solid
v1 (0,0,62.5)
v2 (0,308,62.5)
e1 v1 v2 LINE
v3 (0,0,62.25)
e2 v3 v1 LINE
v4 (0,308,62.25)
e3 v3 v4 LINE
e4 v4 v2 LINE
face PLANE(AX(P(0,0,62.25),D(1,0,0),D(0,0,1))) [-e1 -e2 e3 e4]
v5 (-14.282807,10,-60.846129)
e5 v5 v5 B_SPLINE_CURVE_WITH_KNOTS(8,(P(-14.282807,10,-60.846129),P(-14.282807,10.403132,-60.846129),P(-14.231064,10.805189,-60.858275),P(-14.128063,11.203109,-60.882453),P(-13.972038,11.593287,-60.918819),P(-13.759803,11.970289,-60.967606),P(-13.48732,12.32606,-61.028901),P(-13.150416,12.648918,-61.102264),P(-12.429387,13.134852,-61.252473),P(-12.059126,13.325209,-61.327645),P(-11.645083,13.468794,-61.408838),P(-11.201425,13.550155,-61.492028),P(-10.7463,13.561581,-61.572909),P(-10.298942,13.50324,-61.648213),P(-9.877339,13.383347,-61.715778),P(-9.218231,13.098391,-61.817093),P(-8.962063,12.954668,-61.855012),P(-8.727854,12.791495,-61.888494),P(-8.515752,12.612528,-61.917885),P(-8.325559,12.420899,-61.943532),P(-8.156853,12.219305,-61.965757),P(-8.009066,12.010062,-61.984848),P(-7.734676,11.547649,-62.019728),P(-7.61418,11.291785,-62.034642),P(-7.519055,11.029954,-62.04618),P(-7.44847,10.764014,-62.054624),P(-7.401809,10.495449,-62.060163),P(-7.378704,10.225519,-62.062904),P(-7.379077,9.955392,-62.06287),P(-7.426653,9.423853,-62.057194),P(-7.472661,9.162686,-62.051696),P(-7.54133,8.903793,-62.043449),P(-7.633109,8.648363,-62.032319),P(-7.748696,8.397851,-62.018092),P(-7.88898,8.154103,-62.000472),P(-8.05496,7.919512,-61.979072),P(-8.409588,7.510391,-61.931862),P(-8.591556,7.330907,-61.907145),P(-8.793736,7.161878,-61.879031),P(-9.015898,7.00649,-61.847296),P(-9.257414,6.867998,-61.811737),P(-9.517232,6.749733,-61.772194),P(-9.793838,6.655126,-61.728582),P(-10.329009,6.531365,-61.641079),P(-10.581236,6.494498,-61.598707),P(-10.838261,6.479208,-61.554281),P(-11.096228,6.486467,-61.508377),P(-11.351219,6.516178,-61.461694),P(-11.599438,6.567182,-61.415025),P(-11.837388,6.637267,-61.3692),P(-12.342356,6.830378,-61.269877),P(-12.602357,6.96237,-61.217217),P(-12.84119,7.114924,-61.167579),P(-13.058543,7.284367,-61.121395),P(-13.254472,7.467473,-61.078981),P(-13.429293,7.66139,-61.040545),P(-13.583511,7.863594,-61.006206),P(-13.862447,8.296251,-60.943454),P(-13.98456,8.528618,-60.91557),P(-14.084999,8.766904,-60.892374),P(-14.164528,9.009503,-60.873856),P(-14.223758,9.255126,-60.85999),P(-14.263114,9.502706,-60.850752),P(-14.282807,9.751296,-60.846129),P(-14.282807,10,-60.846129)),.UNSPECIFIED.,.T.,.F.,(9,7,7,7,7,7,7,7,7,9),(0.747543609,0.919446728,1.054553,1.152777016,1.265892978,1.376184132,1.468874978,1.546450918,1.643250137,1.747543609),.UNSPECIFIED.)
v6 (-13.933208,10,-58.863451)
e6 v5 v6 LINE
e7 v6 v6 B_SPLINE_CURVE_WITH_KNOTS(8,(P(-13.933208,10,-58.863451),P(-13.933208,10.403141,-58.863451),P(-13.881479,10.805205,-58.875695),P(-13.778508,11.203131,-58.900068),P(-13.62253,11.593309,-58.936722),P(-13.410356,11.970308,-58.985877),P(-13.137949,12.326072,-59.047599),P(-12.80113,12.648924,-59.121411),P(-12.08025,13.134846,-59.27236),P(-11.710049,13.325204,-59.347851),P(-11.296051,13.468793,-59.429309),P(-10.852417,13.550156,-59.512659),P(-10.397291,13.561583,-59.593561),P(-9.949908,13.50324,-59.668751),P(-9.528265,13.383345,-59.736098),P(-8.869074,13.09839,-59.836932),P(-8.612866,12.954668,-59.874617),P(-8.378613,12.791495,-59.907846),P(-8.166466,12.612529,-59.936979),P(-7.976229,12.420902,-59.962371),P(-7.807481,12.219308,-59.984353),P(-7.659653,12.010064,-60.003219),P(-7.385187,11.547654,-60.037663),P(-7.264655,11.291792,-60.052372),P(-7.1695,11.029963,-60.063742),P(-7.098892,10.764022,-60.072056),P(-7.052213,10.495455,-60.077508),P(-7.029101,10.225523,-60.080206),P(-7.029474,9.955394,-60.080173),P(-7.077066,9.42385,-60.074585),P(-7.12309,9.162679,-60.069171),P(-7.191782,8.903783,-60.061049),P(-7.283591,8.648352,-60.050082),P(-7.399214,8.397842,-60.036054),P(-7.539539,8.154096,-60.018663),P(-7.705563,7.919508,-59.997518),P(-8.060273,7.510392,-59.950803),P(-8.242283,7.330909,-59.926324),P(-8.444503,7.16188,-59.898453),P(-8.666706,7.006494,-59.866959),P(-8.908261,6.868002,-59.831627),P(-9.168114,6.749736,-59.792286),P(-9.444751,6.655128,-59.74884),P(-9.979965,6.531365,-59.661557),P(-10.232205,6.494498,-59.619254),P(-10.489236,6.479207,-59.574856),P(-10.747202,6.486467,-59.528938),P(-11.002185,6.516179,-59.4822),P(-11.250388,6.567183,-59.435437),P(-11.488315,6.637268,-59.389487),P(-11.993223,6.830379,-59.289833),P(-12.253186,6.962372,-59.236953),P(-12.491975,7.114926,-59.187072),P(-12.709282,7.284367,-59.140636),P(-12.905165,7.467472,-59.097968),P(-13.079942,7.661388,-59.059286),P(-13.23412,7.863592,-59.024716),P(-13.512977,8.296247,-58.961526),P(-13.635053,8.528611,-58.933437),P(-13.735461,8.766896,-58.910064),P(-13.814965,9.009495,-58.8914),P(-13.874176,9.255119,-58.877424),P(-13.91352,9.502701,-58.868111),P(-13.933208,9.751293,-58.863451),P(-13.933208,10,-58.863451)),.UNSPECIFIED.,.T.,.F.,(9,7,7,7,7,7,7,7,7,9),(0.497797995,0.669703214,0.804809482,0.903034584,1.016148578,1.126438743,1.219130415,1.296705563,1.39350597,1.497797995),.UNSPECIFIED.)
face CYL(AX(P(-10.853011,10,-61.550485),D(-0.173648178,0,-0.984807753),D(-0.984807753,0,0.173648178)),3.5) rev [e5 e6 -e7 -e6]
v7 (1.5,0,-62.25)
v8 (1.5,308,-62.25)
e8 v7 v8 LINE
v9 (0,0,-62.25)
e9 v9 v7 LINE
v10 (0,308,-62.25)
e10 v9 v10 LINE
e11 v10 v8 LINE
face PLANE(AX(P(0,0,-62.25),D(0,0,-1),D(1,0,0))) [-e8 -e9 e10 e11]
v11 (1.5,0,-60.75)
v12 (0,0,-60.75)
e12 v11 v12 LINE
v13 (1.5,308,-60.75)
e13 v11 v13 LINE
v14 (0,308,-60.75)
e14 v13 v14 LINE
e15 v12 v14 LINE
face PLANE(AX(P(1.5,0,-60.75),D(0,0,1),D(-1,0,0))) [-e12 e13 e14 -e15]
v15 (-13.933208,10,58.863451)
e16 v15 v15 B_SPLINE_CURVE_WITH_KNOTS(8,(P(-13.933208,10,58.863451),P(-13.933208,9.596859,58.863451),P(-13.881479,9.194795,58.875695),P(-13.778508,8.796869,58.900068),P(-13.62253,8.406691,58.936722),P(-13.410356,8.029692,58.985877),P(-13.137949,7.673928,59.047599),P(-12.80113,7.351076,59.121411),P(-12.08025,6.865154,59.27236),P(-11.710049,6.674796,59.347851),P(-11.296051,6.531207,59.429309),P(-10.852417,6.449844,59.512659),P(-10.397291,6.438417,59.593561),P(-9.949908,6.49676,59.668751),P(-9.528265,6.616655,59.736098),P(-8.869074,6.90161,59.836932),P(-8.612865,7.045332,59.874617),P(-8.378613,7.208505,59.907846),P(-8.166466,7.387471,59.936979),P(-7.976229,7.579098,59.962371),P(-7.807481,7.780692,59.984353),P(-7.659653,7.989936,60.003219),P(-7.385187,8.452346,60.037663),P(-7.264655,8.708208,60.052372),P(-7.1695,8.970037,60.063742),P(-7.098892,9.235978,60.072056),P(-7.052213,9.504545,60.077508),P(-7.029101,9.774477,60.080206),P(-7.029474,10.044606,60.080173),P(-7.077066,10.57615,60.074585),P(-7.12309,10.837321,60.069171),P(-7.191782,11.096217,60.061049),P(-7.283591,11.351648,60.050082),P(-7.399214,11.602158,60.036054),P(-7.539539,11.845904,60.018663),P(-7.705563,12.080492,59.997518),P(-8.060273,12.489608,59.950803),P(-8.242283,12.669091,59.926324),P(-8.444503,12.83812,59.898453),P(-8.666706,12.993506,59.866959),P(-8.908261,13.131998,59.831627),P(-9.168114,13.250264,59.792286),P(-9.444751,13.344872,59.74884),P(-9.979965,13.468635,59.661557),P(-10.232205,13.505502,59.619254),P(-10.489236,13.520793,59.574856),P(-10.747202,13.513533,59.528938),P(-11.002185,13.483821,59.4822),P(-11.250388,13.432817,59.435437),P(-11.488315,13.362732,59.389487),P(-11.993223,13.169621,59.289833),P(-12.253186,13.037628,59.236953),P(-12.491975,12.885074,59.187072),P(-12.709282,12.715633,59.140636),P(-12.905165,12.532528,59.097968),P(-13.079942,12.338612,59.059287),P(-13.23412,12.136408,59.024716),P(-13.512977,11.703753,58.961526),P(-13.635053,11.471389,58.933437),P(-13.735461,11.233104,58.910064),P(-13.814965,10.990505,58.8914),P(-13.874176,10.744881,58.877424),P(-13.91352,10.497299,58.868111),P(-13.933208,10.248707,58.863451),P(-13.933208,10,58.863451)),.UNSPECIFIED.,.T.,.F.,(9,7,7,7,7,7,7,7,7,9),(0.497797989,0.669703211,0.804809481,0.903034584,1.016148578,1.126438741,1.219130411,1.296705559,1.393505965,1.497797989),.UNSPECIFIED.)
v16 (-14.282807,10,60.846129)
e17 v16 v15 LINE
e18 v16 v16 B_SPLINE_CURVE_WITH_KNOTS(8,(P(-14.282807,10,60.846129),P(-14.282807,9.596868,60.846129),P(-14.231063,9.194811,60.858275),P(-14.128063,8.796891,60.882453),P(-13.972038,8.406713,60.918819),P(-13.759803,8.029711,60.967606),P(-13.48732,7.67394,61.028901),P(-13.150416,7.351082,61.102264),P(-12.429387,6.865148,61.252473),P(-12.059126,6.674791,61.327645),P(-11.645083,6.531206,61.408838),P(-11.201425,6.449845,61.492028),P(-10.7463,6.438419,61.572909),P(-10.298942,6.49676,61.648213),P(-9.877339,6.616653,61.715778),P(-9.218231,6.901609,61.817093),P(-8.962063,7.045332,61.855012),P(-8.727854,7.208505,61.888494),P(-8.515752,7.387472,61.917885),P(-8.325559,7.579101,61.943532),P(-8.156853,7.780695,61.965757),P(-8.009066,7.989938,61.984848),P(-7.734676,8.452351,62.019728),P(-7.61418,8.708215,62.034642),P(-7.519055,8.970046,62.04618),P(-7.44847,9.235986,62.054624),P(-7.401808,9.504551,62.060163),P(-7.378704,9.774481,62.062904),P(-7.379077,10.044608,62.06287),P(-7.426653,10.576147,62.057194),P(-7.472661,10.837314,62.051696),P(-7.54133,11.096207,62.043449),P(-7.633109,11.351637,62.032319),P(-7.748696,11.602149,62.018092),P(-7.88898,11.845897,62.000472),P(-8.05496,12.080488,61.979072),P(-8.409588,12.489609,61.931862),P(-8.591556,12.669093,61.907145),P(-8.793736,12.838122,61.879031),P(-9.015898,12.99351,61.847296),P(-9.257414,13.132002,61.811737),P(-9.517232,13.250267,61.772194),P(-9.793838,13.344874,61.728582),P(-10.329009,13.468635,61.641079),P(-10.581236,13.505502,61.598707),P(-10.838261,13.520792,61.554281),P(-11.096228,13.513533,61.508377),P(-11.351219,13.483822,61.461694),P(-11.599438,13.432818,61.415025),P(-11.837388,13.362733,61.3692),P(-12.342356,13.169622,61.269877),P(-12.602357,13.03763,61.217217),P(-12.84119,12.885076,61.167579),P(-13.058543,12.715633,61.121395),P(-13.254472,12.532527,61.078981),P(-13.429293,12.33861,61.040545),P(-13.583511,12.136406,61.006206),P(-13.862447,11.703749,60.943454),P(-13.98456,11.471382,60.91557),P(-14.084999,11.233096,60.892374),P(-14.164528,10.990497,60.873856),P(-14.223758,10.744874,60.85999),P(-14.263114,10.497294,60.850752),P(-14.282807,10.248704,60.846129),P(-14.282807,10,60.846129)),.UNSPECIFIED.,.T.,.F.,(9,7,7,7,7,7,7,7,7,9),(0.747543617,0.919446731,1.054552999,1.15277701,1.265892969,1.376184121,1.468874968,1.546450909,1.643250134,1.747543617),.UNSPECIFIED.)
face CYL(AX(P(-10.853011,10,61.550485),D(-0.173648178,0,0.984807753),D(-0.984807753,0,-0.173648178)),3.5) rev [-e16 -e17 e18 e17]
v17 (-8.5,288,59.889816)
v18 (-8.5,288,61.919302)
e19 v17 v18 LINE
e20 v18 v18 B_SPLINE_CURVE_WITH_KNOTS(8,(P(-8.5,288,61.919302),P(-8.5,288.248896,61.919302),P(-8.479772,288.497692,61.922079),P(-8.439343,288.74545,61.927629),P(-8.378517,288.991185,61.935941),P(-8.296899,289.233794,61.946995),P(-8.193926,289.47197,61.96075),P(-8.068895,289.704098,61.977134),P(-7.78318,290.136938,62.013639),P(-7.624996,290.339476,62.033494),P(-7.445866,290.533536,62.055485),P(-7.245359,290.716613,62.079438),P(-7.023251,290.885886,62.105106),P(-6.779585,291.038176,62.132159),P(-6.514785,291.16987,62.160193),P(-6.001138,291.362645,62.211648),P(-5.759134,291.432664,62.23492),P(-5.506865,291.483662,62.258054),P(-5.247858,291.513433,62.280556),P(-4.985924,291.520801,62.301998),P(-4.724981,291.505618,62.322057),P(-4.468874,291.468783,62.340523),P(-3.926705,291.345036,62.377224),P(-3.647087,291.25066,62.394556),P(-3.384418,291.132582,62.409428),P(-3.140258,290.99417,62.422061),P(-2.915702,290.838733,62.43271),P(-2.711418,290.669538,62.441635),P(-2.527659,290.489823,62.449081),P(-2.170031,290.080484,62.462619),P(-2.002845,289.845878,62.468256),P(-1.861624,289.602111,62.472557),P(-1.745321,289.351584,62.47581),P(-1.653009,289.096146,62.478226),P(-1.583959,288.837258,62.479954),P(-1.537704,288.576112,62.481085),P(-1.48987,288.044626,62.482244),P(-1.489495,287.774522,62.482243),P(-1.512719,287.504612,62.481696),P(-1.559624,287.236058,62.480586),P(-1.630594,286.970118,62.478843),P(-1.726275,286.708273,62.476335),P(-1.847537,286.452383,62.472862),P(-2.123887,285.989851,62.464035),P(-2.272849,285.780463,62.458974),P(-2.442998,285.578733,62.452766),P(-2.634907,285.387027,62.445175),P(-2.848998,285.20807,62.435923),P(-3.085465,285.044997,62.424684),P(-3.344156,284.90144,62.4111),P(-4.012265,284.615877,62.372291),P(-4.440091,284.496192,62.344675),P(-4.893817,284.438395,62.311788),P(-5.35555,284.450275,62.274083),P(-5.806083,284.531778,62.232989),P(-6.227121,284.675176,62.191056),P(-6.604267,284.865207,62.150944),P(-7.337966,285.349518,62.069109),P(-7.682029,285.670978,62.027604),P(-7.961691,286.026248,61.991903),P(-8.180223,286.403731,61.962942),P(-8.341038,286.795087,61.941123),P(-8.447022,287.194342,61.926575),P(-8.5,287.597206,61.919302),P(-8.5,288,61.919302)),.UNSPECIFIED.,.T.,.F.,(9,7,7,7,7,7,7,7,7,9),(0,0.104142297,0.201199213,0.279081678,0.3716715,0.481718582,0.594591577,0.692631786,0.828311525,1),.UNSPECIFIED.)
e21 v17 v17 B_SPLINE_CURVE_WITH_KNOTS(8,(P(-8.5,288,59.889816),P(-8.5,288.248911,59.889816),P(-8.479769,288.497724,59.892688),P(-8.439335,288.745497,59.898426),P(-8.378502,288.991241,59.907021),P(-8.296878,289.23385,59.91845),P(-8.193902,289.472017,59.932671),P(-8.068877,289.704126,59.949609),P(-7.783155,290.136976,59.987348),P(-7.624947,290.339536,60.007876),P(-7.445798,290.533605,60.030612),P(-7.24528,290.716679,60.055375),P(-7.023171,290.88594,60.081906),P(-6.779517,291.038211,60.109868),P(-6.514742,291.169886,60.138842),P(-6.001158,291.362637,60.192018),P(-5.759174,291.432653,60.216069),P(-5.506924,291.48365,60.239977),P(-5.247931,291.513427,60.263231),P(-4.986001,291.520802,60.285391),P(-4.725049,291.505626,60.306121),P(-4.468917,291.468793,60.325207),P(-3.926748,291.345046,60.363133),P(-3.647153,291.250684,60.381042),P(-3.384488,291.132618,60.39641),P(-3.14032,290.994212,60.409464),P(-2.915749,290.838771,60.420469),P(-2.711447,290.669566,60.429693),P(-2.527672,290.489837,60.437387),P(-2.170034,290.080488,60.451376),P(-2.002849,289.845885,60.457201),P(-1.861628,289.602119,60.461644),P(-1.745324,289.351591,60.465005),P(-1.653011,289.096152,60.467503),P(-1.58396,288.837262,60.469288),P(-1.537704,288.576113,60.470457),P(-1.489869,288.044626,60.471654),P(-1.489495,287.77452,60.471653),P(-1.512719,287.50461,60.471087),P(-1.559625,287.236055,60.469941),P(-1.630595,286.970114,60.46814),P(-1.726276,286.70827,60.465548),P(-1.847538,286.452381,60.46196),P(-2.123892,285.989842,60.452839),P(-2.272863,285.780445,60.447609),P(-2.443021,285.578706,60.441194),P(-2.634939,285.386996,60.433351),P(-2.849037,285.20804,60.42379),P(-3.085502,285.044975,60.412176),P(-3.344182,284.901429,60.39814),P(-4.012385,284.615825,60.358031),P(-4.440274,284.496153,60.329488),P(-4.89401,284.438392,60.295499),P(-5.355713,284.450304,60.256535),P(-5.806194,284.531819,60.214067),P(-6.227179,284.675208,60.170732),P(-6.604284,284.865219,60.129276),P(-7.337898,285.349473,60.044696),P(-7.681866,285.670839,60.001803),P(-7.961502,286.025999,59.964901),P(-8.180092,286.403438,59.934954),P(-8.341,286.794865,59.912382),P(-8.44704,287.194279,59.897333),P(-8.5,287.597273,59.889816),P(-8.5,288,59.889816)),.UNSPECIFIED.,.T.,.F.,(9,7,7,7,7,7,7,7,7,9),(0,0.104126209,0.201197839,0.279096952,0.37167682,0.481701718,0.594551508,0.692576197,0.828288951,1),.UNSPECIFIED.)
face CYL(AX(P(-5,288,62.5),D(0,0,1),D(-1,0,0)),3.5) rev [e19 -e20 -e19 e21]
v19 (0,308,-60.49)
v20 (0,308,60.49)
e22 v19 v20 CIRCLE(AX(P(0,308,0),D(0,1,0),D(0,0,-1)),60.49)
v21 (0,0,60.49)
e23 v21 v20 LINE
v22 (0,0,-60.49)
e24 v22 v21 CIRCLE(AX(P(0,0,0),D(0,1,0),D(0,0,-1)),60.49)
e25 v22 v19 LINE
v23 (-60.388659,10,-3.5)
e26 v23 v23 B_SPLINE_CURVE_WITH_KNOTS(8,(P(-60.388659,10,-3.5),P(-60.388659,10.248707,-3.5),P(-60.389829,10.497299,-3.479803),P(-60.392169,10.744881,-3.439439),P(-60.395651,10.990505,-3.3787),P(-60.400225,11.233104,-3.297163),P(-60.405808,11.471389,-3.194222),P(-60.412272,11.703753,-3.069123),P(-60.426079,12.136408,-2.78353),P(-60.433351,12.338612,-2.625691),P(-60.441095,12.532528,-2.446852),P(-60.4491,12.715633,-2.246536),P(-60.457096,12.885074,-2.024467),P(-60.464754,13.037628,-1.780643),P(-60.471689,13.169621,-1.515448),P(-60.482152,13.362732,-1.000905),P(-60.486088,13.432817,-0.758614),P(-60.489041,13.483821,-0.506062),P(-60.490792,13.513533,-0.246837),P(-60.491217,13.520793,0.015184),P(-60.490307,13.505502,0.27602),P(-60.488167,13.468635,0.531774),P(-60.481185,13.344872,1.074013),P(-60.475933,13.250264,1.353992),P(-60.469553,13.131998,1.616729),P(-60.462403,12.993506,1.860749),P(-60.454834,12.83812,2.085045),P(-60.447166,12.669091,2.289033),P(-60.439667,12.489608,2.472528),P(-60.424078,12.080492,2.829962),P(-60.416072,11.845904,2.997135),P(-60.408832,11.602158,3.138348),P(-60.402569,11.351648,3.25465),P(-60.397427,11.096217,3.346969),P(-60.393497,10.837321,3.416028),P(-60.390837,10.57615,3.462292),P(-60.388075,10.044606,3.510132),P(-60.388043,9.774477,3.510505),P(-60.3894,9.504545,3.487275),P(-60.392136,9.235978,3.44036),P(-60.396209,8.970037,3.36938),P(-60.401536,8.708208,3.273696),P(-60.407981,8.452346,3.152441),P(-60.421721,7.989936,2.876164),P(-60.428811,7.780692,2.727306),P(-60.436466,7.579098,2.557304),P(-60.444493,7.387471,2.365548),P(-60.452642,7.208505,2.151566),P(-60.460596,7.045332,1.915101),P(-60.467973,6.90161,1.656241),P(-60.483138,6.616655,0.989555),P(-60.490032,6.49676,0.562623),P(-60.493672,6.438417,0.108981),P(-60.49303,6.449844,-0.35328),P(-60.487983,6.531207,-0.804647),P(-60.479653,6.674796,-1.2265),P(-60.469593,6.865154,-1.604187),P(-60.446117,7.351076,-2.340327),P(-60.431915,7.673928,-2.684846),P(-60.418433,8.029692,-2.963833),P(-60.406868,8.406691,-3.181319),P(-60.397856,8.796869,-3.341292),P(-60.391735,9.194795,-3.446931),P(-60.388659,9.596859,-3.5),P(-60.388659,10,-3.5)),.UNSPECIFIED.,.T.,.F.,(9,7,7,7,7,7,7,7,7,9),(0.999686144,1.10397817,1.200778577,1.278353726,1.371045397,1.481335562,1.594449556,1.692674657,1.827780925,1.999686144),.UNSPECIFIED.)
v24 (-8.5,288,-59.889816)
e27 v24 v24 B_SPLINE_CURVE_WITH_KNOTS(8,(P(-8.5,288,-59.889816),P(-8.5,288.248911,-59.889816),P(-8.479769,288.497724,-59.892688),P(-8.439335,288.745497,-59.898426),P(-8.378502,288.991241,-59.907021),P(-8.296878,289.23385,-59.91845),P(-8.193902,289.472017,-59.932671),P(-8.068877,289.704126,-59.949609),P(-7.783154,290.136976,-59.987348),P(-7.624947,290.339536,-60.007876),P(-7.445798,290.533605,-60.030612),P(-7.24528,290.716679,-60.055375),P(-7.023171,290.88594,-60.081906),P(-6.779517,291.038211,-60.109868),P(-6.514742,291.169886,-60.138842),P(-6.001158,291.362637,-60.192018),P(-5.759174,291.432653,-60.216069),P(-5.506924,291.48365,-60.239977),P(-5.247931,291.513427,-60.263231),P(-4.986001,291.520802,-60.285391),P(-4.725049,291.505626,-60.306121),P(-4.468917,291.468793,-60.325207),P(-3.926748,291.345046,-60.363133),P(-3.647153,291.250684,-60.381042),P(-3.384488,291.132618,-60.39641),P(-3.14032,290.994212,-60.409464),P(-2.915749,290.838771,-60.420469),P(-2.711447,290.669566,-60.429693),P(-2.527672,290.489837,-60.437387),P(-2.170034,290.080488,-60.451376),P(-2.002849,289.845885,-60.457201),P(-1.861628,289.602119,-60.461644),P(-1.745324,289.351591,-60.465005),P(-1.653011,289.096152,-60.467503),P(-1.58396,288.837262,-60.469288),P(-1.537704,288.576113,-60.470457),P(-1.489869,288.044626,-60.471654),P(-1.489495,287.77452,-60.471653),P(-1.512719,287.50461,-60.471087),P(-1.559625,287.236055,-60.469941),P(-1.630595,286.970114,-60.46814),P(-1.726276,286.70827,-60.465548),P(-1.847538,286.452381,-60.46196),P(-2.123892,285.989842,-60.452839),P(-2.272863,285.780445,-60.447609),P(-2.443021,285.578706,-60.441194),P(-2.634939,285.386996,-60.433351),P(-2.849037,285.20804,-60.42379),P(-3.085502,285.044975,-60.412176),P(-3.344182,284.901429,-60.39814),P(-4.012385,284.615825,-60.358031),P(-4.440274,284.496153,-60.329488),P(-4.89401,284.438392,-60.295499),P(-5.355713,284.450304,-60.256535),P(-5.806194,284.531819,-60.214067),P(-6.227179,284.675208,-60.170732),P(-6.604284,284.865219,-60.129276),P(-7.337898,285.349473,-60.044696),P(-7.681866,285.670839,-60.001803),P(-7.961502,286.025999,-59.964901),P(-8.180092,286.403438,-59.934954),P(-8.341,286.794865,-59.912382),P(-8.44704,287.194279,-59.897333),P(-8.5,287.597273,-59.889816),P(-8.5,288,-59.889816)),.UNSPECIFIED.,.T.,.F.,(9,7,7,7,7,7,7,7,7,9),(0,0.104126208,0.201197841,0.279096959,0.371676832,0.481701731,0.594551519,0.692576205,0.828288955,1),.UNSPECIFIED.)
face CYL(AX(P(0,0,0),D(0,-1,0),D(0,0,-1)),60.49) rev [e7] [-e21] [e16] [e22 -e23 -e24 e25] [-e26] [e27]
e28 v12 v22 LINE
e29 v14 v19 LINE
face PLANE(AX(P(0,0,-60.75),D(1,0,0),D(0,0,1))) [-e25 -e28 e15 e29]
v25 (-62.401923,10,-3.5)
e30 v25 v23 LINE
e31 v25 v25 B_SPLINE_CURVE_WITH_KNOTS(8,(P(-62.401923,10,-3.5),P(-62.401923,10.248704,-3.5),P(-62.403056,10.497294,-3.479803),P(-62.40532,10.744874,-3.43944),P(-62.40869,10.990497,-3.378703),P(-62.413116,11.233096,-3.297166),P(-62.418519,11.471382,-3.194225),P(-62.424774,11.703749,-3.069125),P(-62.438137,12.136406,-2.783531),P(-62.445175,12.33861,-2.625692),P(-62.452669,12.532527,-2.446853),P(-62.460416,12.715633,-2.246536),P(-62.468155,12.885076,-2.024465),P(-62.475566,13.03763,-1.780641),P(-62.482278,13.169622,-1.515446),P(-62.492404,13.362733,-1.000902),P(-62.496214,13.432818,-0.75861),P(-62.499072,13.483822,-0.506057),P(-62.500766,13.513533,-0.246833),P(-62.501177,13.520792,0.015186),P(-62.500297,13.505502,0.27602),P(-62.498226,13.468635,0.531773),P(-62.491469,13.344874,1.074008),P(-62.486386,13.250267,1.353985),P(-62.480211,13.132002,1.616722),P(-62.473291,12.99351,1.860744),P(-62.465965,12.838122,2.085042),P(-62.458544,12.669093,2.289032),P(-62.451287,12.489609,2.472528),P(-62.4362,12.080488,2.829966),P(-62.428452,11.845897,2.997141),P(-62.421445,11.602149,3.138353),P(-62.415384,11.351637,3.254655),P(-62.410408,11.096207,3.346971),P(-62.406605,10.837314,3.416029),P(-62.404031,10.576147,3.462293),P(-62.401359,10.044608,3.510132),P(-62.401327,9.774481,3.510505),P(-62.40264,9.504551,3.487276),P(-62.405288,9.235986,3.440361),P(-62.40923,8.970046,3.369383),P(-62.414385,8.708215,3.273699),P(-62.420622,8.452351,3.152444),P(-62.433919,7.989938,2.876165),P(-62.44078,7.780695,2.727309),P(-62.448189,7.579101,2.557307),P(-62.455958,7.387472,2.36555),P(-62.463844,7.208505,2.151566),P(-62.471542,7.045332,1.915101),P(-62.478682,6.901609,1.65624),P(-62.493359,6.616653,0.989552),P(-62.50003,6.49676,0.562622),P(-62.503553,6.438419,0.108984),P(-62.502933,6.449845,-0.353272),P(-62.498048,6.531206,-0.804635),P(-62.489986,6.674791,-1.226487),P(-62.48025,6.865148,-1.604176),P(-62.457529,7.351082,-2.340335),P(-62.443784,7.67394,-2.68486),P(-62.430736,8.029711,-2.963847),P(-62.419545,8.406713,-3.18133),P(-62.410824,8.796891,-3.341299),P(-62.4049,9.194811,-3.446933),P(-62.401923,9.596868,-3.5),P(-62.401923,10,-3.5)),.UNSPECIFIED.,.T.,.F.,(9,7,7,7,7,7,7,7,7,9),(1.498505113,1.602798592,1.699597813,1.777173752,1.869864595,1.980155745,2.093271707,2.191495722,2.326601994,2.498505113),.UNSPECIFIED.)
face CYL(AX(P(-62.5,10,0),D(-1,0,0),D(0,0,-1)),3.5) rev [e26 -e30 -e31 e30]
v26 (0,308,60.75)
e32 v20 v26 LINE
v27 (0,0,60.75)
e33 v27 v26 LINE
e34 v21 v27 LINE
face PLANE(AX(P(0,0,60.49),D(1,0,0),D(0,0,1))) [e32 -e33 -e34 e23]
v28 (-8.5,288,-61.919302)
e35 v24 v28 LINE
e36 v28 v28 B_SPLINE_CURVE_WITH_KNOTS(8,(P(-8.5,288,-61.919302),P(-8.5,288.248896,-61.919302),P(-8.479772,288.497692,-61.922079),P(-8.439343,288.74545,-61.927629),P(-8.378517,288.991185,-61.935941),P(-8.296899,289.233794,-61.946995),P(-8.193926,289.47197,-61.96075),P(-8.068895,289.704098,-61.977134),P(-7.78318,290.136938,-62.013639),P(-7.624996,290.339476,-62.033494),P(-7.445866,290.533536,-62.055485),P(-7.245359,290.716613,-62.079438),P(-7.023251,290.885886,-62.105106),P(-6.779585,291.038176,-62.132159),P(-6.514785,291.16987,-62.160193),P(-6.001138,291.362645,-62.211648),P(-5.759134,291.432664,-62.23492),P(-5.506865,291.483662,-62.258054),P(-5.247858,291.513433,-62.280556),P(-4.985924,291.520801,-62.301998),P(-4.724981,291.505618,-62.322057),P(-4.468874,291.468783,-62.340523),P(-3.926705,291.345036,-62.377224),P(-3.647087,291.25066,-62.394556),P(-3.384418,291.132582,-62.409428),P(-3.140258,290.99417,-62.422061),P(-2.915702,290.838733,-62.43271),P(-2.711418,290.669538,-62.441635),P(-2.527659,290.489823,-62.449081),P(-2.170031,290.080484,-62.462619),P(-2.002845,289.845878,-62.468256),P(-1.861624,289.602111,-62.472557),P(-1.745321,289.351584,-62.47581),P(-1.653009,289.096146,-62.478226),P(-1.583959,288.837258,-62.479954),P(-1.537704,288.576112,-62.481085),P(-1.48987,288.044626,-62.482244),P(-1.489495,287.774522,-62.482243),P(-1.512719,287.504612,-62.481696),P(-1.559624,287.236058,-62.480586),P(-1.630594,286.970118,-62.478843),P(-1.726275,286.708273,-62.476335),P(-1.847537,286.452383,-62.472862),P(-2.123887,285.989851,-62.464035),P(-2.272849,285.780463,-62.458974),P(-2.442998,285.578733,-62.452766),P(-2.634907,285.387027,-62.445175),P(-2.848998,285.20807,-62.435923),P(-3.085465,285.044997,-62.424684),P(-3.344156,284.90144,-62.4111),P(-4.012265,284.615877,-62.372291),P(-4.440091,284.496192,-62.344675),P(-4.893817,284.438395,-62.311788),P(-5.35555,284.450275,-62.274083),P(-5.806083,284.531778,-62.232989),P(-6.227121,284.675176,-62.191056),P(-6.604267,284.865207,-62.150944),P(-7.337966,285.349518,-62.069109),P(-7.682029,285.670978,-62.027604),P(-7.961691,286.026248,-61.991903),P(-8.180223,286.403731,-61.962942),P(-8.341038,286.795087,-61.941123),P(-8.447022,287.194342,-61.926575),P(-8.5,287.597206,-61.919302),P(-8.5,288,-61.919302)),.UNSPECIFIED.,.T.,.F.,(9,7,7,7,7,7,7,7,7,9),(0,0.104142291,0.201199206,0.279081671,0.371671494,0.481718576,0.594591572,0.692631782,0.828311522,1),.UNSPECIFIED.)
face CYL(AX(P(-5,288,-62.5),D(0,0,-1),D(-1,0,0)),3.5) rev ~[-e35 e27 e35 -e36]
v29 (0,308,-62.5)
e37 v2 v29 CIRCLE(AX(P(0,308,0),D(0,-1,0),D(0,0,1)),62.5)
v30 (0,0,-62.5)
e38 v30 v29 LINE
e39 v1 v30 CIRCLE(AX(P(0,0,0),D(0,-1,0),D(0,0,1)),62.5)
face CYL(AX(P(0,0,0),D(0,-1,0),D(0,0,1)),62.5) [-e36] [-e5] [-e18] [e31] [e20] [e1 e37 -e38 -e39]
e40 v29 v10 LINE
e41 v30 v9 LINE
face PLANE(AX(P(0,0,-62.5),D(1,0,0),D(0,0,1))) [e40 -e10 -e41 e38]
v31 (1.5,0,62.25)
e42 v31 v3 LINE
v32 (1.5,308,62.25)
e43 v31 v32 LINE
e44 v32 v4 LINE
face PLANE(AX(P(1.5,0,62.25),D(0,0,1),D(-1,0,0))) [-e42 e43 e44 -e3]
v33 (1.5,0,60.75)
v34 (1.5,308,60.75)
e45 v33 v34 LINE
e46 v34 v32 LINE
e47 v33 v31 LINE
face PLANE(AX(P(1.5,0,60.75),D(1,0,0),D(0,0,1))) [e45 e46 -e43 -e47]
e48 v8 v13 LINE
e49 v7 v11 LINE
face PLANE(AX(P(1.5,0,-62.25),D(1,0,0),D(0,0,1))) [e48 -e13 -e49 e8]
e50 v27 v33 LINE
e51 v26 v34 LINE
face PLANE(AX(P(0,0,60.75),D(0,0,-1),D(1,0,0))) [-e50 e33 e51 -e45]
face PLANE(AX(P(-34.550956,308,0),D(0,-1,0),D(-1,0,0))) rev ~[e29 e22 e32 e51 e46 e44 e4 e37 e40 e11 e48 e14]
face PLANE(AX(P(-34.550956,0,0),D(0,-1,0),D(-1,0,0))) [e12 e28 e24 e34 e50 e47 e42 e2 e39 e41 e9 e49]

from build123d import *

# Parameters (mm, degrees)
BOSS_EXTRUDE1_DEPTH     = 308
CUT_EXTRUDE1_START      = -62.5
SKETCH4_R               = 3.5
CUT_EXTRUDE1_DEPTH      = 2.111341
CIRPATTERN2_COUNT       = 2
CIRPATTERN2_ANGLE       = 80
MIRROR1_START           = -62.5
MIRROR1_COPY_1_SKETCH_R = 3.5
MIRROR1_COPY_1_DEPTH    = 2.111341
MIRROR1_COPY_2_SKETCH_R = 3.5
MIRROR1_COPY_2_DEPTH    = 2.111341
SKETCH5_R               = 3.5
CUT_EXTRUDE2_DEPTH      = 5


with BuildPart() as part:
    # Sketch3 → Boss-Extrude1 (new body)
    with BuildSketch(Plane(origin=(0, 0, 0), x_dir=(1, 0, 0), z_dir=(0, 1, 0))):
        with BuildLine():
            Line((0, -60.49), (0, -60.75))
            Line((0, -60.75), (1.5, -60.75))
            Line((1.5, -60.75), (1.5, -62.25))
            Line((1.5, -62.25), (0, -62.25))
            Line((0, -62.25), (0, -62.5))
            ThreePointArc((0, -62.5), (-62.5, 0), (0, 62.5))
            Line((0, 62.5), (0, 62.25))
            Line((0, 62.25), (1.5, 62.25))
            Line((1.5, 62.25), (1.5, 60.75))
            Line((1.5, 60.75), (0, 60.75))
            Line((0, 60.75), (0, 60.49))
            ThreePointArc((0, 60.49), (-60.49, 0), (0, -60.49))
        make_face()
    extrude(amount=BOSS_EXTRUDE1_DEPTH)

    # Sketch4 → Cut-Extrude1 (cut)
    with BuildSketch(Plane(origin=(0, 0, 0), x_dir=(0, 0, -1), z_dir=(1, 0, 0)).offset(CUT_EXTRUDE1_START)):
        with Locations((0, 10)):
            Circle(SKETCH4_R)
    cut_extrude1 = extrude(amount=CUT_EXTRUDE1_DEPTH, mode=Mode.SUBTRACT)

    # CirPattern2: Cut-Extrude1 ×2 about axis
    cirpattern2_axis = Axis((0, 0, 0), (0, 1, 0))
    for i in range(1, CIRPATTERN2_COUNT):
        add(cut_extrude1.rotate(cirpattern2_axis, i * CIRPATTERN2_ANGLE / (CIRPATTERN2_COUNT - 1)), mode=Mode.SUBTRACT)

    # Mirror1 copy 1 sketch → Mirror1 copy 1 (cut)
    with BuildSketch(Plane(origin=(0, 0, 0), x_dir=(-0.984807753, 0, 0.173648178), z_dir=(0.173648178, 0, 0.984807753)).offset(MIRROR1_START)):
        with Locations((0, -10)):
            Circle(MIRROR1_COPY_1_SKETCH_R)
    extrude(amount=MIRROR1_COPY_1_DEPTH, mode=Mode.SUBTRACT)

    # Mirror1 copy 2 sketch → Mirror1 copy 2 (cut)
    with BuildSketch(Plane(origin=(0, 0, 0), x_dir=(0, 0, 1), z_dir=(1, 0, 0)).offset(MIRROR1_START)):
        with Locations((0, -10)):
            Circle(MIRROR1_COPY_2_SKETCH_R)
    extrude(amount=MIRROR1_COPY_2_DEPTH, mode=Mode.SUBTRACT)

    # Sketch5 → Cut-Extrude2 (cut, symmetric)
    with BuildSketch(Plane(origin=(0, 0, -62.5), x_dir=(-1, 0, 0), z_dir=(0, 0, -1))):
        with Locations((5, 288)):
            Circle(SKETCH5_R)
    cut_extrude2 = extrude(amount=CUT_EXTRUDE2_DEPTH, both=True, mode=Mode.SUBTRACT)

    # Mirror2: Cut-Extrude2 across plane
    add(cut_extrude2.mirror(Plane.XY), mode=Mode.SUBTRACT)


solid = part.part
